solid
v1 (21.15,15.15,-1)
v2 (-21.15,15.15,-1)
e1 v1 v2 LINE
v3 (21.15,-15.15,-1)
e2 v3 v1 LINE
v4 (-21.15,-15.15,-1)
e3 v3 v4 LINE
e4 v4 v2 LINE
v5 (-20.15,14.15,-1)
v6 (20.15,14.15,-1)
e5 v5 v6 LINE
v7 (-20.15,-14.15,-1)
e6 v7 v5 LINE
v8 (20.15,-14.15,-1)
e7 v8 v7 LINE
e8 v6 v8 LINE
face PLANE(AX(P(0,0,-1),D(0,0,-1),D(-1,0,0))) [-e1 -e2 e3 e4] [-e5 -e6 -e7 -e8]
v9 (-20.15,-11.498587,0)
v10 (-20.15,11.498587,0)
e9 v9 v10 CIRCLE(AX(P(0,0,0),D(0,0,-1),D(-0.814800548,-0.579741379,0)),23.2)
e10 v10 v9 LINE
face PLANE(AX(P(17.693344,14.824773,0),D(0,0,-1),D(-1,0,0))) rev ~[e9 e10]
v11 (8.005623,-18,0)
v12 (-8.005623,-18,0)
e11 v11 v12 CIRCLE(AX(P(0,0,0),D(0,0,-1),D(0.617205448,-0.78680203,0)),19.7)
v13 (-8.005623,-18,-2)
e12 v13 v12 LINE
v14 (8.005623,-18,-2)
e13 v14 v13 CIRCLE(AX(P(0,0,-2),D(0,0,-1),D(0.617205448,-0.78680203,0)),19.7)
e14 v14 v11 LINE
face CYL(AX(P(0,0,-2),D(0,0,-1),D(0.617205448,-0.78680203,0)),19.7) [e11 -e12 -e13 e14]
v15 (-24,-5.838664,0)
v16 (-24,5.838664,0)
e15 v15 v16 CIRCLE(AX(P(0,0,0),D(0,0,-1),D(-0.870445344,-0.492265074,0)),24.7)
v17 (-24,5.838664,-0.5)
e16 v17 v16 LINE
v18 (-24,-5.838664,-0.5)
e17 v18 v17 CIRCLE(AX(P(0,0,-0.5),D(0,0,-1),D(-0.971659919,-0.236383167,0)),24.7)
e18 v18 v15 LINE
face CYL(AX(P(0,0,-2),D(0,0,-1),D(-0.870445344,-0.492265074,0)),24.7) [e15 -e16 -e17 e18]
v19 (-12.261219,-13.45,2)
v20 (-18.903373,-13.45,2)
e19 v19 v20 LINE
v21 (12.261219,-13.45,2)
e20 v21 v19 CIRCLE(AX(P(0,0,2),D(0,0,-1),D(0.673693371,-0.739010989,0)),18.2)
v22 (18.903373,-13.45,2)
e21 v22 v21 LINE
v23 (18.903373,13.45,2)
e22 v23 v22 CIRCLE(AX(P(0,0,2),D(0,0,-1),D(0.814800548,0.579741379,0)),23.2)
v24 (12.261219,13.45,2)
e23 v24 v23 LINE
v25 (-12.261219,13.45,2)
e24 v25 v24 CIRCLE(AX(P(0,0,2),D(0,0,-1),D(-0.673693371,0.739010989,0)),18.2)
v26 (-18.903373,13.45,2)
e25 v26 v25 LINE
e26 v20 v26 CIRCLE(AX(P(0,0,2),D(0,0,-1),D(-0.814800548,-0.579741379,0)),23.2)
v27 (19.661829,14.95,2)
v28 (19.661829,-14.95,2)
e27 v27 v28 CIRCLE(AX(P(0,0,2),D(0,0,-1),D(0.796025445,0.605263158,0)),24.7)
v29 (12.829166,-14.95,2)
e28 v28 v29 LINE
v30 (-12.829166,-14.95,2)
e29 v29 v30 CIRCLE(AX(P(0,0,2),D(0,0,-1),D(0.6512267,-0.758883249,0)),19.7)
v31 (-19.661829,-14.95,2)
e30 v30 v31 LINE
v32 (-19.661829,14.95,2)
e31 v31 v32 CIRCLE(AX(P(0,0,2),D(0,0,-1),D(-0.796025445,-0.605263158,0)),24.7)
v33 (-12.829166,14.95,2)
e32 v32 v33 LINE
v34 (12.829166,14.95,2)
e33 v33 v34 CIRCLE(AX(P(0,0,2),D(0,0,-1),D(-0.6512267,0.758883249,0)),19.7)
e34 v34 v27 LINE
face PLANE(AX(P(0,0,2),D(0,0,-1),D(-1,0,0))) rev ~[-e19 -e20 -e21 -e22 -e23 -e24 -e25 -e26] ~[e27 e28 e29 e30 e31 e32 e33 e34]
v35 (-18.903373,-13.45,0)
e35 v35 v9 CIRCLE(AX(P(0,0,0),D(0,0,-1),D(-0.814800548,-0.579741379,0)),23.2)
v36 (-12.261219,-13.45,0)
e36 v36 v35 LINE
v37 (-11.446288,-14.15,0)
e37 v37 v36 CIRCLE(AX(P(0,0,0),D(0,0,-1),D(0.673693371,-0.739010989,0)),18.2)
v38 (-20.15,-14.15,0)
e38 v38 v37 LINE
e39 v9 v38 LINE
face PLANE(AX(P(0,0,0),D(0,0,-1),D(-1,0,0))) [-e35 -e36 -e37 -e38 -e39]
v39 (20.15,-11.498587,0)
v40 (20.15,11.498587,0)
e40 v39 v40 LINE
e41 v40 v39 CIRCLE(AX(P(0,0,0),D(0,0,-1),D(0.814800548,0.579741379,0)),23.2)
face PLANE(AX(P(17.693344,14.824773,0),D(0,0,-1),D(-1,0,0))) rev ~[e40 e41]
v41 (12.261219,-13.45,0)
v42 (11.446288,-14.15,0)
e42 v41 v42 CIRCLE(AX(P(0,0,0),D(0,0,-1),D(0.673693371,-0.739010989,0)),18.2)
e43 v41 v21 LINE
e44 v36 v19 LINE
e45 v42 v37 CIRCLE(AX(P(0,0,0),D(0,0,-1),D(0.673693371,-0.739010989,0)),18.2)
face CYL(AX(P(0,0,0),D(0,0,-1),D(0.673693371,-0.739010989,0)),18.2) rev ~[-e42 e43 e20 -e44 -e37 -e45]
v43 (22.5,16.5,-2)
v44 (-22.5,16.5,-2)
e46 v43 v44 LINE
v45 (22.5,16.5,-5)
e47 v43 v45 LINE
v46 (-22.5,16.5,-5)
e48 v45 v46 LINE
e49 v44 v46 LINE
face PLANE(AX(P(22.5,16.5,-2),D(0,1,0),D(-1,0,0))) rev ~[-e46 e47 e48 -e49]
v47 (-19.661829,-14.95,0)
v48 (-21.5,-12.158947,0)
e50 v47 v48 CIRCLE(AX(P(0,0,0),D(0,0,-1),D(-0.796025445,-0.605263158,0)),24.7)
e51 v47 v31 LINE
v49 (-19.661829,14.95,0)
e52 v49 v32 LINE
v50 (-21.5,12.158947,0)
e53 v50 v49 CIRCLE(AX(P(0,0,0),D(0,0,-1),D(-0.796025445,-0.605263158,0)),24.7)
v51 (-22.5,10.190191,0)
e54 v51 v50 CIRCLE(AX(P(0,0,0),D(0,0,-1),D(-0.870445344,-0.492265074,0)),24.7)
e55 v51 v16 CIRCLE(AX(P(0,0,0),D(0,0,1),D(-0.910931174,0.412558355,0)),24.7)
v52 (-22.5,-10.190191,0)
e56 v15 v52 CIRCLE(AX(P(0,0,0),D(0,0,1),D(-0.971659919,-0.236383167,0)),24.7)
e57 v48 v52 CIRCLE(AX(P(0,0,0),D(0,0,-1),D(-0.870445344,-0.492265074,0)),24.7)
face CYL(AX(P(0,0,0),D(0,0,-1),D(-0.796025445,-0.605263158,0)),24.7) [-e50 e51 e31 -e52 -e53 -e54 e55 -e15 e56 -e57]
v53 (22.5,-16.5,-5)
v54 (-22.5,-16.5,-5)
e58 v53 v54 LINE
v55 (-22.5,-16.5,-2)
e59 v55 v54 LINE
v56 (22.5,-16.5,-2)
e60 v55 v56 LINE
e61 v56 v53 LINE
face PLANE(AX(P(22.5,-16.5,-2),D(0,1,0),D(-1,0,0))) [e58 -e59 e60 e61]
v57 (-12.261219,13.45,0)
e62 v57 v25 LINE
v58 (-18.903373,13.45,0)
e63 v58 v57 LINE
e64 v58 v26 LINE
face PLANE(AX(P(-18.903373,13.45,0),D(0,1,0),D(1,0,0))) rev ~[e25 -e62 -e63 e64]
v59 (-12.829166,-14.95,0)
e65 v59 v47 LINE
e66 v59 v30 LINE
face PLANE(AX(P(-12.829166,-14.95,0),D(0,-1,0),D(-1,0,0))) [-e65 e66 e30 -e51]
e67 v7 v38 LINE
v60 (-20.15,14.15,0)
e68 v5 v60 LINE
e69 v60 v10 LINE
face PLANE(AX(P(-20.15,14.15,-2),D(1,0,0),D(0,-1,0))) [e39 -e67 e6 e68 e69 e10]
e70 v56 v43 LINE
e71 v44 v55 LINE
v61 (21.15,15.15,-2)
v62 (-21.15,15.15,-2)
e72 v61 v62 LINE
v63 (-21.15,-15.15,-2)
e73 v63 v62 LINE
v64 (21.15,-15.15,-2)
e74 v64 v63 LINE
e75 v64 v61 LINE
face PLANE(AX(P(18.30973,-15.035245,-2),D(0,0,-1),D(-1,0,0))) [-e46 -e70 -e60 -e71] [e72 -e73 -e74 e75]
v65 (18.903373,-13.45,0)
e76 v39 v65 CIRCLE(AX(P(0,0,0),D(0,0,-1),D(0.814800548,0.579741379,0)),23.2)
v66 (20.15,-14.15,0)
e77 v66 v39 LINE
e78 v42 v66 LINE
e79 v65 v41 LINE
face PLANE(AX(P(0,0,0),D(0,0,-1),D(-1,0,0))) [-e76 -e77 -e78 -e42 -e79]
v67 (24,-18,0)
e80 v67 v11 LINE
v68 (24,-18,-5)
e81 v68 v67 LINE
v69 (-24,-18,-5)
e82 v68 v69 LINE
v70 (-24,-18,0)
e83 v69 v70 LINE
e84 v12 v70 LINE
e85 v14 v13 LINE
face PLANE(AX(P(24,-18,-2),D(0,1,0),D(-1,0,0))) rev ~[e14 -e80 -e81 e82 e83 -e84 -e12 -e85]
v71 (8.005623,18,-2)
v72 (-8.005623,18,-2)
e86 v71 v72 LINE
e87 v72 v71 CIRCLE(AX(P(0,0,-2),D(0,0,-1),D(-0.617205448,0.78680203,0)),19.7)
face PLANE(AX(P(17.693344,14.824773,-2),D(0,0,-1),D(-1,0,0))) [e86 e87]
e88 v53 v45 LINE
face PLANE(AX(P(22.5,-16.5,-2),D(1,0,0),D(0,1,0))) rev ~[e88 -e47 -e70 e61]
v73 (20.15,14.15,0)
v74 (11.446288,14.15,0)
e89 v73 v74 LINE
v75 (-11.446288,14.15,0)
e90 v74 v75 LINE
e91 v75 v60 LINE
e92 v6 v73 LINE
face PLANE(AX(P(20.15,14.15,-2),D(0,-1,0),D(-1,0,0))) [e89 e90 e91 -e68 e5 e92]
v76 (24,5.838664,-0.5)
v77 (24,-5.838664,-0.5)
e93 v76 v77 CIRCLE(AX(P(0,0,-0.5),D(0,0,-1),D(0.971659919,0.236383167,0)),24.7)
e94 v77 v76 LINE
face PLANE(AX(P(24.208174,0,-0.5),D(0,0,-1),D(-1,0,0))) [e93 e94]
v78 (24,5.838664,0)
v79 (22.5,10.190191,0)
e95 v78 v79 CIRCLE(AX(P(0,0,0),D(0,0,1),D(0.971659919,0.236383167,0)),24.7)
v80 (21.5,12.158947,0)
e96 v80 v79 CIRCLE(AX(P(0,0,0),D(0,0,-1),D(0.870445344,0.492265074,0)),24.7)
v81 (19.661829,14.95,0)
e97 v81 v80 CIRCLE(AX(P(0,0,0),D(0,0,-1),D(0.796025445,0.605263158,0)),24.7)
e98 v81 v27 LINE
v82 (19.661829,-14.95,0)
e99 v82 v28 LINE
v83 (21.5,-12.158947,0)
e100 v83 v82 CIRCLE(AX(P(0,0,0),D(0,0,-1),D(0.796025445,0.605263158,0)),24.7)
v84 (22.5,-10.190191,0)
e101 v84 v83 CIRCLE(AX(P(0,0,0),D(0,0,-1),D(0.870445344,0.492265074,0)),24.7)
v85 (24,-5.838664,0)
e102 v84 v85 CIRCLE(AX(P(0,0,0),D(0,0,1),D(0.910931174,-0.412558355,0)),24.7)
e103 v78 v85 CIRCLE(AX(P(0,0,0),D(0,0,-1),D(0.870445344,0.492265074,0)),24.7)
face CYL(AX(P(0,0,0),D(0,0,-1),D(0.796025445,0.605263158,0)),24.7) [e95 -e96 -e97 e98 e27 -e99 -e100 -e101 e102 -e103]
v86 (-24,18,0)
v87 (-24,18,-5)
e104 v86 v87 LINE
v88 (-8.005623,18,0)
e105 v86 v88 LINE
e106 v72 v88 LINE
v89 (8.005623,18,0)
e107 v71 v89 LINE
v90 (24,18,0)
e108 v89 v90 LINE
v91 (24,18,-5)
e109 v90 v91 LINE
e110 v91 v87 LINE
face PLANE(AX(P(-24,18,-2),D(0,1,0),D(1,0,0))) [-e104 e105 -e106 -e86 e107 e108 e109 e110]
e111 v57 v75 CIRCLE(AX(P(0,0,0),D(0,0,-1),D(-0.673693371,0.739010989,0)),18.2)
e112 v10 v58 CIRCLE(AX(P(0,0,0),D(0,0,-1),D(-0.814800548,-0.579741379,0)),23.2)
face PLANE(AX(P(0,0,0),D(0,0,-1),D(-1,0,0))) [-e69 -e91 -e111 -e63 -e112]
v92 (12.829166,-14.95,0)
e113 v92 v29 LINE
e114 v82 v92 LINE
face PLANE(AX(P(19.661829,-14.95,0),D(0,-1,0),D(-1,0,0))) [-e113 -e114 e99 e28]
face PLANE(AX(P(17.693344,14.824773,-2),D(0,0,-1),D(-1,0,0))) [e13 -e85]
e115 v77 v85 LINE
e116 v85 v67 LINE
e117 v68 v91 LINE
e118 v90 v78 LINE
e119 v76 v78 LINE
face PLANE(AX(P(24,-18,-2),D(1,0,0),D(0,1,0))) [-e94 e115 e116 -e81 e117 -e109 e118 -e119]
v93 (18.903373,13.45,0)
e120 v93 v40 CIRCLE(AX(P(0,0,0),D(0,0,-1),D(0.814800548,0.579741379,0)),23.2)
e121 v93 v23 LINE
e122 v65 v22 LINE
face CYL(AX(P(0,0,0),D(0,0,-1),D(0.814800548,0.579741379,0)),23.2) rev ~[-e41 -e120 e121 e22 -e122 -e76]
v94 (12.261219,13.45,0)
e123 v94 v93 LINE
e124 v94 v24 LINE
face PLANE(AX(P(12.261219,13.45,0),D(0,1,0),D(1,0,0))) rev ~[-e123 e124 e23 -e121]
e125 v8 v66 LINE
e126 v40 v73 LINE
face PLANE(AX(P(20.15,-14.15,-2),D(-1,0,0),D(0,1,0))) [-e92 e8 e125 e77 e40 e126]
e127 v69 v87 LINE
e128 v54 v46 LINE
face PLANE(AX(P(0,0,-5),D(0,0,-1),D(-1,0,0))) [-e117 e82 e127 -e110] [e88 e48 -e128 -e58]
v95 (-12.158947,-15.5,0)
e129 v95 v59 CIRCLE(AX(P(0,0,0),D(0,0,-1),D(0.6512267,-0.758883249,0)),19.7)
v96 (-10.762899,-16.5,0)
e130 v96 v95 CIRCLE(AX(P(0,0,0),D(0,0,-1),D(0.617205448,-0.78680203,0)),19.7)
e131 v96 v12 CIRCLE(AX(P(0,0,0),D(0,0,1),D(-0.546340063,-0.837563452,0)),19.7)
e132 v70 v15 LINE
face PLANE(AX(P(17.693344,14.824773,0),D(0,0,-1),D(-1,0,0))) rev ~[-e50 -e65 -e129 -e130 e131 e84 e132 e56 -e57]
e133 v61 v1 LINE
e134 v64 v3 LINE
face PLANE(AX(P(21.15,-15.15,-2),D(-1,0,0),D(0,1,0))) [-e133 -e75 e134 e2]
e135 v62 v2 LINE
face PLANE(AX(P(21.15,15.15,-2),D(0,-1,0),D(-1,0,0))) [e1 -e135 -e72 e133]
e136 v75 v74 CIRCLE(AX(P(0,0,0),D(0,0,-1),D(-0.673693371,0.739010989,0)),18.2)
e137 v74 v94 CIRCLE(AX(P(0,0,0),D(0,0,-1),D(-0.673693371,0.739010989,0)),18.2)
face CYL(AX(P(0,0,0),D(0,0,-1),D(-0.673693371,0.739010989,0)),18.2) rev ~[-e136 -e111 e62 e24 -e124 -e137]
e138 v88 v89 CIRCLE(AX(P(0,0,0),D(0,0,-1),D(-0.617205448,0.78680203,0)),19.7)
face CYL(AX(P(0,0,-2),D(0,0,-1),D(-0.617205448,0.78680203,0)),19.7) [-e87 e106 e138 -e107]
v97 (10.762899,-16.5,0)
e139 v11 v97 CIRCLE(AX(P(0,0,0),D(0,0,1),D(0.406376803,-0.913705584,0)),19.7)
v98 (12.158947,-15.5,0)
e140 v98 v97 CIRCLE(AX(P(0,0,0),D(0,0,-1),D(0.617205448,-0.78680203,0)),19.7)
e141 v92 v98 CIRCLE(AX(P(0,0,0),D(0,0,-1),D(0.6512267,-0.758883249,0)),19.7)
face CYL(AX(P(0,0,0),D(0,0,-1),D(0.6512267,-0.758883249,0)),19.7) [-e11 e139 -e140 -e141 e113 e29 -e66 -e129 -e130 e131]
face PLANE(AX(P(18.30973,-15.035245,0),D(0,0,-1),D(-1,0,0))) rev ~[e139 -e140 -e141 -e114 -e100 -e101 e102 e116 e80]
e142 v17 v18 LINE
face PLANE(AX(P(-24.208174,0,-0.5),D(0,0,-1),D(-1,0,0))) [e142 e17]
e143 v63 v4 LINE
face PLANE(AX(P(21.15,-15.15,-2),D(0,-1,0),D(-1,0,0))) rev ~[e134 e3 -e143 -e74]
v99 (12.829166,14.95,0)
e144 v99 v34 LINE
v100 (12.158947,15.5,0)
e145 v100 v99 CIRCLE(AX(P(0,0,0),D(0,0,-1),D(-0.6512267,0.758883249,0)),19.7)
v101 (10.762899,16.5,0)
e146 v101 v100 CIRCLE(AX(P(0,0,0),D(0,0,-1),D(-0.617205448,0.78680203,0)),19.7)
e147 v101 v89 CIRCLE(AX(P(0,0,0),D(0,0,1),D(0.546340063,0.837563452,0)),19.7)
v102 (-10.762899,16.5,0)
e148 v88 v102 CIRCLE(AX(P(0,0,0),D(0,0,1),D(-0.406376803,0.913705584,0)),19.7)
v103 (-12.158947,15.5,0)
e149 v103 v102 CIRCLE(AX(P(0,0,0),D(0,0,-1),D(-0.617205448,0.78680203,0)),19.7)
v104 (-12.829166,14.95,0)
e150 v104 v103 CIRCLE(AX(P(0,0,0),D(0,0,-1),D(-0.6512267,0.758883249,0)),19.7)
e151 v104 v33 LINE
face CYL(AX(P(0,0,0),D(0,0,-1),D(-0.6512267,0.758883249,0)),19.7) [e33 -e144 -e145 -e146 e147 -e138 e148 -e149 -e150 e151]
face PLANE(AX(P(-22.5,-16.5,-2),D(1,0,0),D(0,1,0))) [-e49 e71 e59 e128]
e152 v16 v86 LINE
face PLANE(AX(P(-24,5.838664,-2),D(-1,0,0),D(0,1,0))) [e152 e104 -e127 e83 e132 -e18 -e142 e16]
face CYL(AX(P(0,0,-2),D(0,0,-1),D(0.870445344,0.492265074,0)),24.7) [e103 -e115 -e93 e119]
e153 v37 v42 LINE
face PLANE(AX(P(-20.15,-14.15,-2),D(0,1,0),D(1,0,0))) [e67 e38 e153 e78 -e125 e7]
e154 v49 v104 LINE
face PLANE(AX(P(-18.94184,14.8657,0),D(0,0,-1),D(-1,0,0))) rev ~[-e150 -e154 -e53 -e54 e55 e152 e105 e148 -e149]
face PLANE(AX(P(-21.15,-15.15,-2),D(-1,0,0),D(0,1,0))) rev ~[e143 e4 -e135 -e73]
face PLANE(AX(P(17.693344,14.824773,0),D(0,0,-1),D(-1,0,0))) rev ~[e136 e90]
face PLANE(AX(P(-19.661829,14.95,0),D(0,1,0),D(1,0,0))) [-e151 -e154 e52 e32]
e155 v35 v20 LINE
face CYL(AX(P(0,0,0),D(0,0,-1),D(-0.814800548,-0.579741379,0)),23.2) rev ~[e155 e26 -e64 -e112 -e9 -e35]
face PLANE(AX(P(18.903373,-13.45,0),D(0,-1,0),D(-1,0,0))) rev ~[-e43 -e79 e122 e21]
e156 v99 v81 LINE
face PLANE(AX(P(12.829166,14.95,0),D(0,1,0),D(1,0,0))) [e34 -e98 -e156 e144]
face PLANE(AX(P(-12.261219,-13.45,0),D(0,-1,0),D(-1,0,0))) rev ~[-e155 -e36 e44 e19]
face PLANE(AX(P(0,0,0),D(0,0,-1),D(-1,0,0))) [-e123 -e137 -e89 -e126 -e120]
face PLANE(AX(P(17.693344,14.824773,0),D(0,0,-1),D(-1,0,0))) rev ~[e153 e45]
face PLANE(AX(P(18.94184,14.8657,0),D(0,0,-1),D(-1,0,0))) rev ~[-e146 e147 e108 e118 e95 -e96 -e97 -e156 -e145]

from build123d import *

# Parameters (mm, degrees)
EXTRUDE_1_DEPTH     = 2
EXTRUDE_START       = 2
SKETCH_3_W          = 40.3
SKETCH_3_H          = 28.3
EXTRUDE_2_DEPTH     = 2
SKETCH_4_W          = 48
SKETCH_4_H          = 36
SKETCH_4_W_2        = 45
SKETCH_4_H_2        = 33
EXTRUDE_3_DEPTH     = 3
EXTRUDE_4_DEPTH     = 2
CUT_EXTRUDE_1_DEPTH = 1.5
SKETCH_5_W          = 42.3
SKETCH_5_H          = 30.3
CUT_EXTRUDE_2_DEPTH = 1


with BuildPart() as part:
    # 草图1 → 凸台-拉伸1 (new body)
    with BuildSketch(Plane.XY):
        with BuildLine():
            Line((-19.661828501, 14.95), (-12.82916599, 14.95))
            ThreePointArc((-12.82916599, 14.95), (0, 19.7), (12.82916599, 14.95))
            Line((12.82916599, 14.95), (19.661828501, 14.95))
            ThreePointArc((19.661828501, 14.95), (24.7, 0), (19.661828501, -14.95))
            Line((19.661828501, -14.95), (12.82916599, -14.95))
            ThreePointArc((12.82916599, -14.95), (0, -19.7), (-12.82916599, -14.95))
            Line((-12.82916599, -14.95), (-19.661828501, -14.95))
            ThreePointArc((-19.661828501, -14.95), (-24.7, 0), (-19.661828501, 14.95))
        make_face()
        with BuildLine():
            Line((-18.903372715, 13.45), (-12.261219352, 13.45))
            ThreePointArc((-12.261219352, 13.45), (0, 18.2), (12.261219352, 13.45))
            Line((12.261219352, 13.45), (18.903372715, 13.45))
            ThreePointArc((18.903372715, 13.45), (23.2, 0), (18.903372715, -13.45))
            Line((18.903372715, -13.45), (12.261219352, -13.45))
            ThreePointArc((12.261219352, -13.45), (0, -18.2), (-12.261219352, -13.45))
            Line((-12.261219352, -13.45), (-18.903372715, -13.45))
            ThreePointArc((-18.903372715, -13.45), (-23.2, 0), (-18.903372715, 13.45))
        make_face(mode=Mode.SUBTRACT)
    extrude(amount=EXTRUDE_1_DEPTH)

    # 草图3 → 凸台-拉伸2 (add)
    with BuildSketch(Plane(origin=(0, 0, 0), x_dir=(-1, 0, 0), z_dir=(0, 0, -1)).offset(EXTRUDE_START)):
        with BuildLine():
            Line((-21.5, -12.158947323), (-21.5, -15.5))
            Line((-21.5, -15.5), (-12.158947323, -15.5))
            ThreePointArc((-12.158947323, -15.5), (0, -19.7), (12.158947323, -15.5))
            Line((12.158947323, -15.5), (21.5, -15.5))
            Line((21.5, -15.5), (21.5, -12.158947323))
            ThreePointArc((21.5, -12.158947323), (24.7, 0), (21.5, 12.158947323))
            Line((21.5, 12.158947323), (21.5, 15.5))
            Line((21.5, 15.5), (12.158947323, 15.5))
            ThreePointArc((12.158947323, 15.5), (0, 19.7), (-12.158947323, 15.5))
            Line((-12.158947323, 15.5), (-21.5, 15.5))
            Line((-21.5, 15.5), (-21.5, 12.158947323))
            ThreePointArc((-21.5, 12.158947323), (-24.7, 0), (-21.5, -12.158947323))
        make_face()
        Rectangle(SKETCH_3_W, SKETCH_3_H, mode=Mode.SUBTRACT)
    extrude(amount=-EXTRUDE_2_DEPTH)

    # 草图4 → 凸台-拉伸3 (add)
    with BuildSketch(Plane(origin=(0, 0, -2), x_dir=(-1, 0, 0), z_dir=(0, 0, -1))):
        Rectangle(SKETCH_4_W, SKETCH_4_H)
        Rectangle(SKETCH_4_W_2, SKETCH_4_H_2, mode=Mode.SUBTRACT)
    extrude(amount=EXTRUDE_3_DEPTH)

    # 草图4<2> → 凸台-拉伸4 (add)
    with BuildSketch(Plane(origin=(0, 0, -2), x_dir=(-1, 0, 0), z_dir=(0, 0, -1))):
        with BuildLine():
            ThreePointArc((-21.5, -12.158947323), (-22.968434744, -9.085208055), (-24, -5.838664231))
            Line((-24, -5.838664231), (-24, -18))
            Line((-24, -18), (-8.005623024, -18))
            ThreePointArc((-8.005623024, -18), (-10.159477069, -16.87824119), (-12.158947323, -15.5))
            Line((-12.158947323, -15.5), (-21.5, -15.5))
            Line((-21.5, -15.5), (-21.5, -12.158947323))
        make_face()
        with BuildLine():
            ThreePointArc((12.158947323, -15.5), (10.159477069, -16.87824119), (8.005623024, -18))
            Line((8.005623024, -18), (24, -18))
            Line((24, -18), (24, -5.838664231))
            ThreePointArc((24, -5.838664231), (22.968434744, -9.085208055), (21.5, -12.158947323))
            Line((21.5, -12.158947323), (21.5, -15.5))
            Line((21.5, -15.5), (12.158947323, -15.5))
        make_face()
        with BuildLine():
            ThreePointArc((-24, 5.838664231), (-22.968434744, 9.085208055), (-21.5, 12.158947323))
            Line((-21.5, 12.158947323), (-21.5, 15.5))
            Line((-21.5, 15.5), (-12.158947323, 15.5))
            ThreePointArc((-12.158947323, 15.5), (-10.159477069, 16.87824119), (-8.005623024, 18))
            Line((-8.005623024, 18), (-24, 18))
            Line((-24, 18), (-24, 5.838664231))
        make_face()
        with BuildLine():
            ThreePointArc((21.5, 12.158947323), (22.968434744, 9.085208055), (24, 5.838664231))
            Line((24, 5.838664231), (24, 18))
            Line((24, 18), (8.005623024, 18))
            ThreePointArc((8.005623024, 18), (10.159477069, 16.87824119), (12.158947323, 15.5))
            Line((12.158947323, 15.5), (21.5, 15.5))
            Line((21.5, 15.5), (21.5, 12.158947323))
        make_face()
    extrude(amount=-EXTRUDE_4_DEPTH)

    # 草图4<3> → 切除-拉伸1 (cut)
    with BuildSketch(Plane(origin=(0, 0, -2), x_dir=(-1, 0, 0), z_dir=(0, 0, -1))):
        with BuildLine():
            ThreePointArc((-24, 5.838664231), (-24.7, 0), (-24, -5.838664231))
            Line((-24, -5.838664231), (-24, 5.838664231))
        make_face()
        with BuildLine():
            Line((24, 5.838664231), (24, -5.838664231))
            ThreePointArc((24, -5.838664231), (24.7, 0), (24, 5.838664231))
        make_face()
    extrude(amount=-CUT_EXTRUDE_1_DEPTH, mode=Mode.SUBTRACT)

    # 草图5 → 切除-拉伸2 (cut)
    with BuildSketch(Plane(origin=(0, 0, -2), x_dir=(-1, 0, 0), z_dir=(0, 0, -1))):
        Rectangle(SKETCH_5_W, SKETCH_5_H)
    extrude(amount=-CUT_EXTRUDE_2_DEPTH, mode=Mode.SUBTRACT)


solid = part.part
